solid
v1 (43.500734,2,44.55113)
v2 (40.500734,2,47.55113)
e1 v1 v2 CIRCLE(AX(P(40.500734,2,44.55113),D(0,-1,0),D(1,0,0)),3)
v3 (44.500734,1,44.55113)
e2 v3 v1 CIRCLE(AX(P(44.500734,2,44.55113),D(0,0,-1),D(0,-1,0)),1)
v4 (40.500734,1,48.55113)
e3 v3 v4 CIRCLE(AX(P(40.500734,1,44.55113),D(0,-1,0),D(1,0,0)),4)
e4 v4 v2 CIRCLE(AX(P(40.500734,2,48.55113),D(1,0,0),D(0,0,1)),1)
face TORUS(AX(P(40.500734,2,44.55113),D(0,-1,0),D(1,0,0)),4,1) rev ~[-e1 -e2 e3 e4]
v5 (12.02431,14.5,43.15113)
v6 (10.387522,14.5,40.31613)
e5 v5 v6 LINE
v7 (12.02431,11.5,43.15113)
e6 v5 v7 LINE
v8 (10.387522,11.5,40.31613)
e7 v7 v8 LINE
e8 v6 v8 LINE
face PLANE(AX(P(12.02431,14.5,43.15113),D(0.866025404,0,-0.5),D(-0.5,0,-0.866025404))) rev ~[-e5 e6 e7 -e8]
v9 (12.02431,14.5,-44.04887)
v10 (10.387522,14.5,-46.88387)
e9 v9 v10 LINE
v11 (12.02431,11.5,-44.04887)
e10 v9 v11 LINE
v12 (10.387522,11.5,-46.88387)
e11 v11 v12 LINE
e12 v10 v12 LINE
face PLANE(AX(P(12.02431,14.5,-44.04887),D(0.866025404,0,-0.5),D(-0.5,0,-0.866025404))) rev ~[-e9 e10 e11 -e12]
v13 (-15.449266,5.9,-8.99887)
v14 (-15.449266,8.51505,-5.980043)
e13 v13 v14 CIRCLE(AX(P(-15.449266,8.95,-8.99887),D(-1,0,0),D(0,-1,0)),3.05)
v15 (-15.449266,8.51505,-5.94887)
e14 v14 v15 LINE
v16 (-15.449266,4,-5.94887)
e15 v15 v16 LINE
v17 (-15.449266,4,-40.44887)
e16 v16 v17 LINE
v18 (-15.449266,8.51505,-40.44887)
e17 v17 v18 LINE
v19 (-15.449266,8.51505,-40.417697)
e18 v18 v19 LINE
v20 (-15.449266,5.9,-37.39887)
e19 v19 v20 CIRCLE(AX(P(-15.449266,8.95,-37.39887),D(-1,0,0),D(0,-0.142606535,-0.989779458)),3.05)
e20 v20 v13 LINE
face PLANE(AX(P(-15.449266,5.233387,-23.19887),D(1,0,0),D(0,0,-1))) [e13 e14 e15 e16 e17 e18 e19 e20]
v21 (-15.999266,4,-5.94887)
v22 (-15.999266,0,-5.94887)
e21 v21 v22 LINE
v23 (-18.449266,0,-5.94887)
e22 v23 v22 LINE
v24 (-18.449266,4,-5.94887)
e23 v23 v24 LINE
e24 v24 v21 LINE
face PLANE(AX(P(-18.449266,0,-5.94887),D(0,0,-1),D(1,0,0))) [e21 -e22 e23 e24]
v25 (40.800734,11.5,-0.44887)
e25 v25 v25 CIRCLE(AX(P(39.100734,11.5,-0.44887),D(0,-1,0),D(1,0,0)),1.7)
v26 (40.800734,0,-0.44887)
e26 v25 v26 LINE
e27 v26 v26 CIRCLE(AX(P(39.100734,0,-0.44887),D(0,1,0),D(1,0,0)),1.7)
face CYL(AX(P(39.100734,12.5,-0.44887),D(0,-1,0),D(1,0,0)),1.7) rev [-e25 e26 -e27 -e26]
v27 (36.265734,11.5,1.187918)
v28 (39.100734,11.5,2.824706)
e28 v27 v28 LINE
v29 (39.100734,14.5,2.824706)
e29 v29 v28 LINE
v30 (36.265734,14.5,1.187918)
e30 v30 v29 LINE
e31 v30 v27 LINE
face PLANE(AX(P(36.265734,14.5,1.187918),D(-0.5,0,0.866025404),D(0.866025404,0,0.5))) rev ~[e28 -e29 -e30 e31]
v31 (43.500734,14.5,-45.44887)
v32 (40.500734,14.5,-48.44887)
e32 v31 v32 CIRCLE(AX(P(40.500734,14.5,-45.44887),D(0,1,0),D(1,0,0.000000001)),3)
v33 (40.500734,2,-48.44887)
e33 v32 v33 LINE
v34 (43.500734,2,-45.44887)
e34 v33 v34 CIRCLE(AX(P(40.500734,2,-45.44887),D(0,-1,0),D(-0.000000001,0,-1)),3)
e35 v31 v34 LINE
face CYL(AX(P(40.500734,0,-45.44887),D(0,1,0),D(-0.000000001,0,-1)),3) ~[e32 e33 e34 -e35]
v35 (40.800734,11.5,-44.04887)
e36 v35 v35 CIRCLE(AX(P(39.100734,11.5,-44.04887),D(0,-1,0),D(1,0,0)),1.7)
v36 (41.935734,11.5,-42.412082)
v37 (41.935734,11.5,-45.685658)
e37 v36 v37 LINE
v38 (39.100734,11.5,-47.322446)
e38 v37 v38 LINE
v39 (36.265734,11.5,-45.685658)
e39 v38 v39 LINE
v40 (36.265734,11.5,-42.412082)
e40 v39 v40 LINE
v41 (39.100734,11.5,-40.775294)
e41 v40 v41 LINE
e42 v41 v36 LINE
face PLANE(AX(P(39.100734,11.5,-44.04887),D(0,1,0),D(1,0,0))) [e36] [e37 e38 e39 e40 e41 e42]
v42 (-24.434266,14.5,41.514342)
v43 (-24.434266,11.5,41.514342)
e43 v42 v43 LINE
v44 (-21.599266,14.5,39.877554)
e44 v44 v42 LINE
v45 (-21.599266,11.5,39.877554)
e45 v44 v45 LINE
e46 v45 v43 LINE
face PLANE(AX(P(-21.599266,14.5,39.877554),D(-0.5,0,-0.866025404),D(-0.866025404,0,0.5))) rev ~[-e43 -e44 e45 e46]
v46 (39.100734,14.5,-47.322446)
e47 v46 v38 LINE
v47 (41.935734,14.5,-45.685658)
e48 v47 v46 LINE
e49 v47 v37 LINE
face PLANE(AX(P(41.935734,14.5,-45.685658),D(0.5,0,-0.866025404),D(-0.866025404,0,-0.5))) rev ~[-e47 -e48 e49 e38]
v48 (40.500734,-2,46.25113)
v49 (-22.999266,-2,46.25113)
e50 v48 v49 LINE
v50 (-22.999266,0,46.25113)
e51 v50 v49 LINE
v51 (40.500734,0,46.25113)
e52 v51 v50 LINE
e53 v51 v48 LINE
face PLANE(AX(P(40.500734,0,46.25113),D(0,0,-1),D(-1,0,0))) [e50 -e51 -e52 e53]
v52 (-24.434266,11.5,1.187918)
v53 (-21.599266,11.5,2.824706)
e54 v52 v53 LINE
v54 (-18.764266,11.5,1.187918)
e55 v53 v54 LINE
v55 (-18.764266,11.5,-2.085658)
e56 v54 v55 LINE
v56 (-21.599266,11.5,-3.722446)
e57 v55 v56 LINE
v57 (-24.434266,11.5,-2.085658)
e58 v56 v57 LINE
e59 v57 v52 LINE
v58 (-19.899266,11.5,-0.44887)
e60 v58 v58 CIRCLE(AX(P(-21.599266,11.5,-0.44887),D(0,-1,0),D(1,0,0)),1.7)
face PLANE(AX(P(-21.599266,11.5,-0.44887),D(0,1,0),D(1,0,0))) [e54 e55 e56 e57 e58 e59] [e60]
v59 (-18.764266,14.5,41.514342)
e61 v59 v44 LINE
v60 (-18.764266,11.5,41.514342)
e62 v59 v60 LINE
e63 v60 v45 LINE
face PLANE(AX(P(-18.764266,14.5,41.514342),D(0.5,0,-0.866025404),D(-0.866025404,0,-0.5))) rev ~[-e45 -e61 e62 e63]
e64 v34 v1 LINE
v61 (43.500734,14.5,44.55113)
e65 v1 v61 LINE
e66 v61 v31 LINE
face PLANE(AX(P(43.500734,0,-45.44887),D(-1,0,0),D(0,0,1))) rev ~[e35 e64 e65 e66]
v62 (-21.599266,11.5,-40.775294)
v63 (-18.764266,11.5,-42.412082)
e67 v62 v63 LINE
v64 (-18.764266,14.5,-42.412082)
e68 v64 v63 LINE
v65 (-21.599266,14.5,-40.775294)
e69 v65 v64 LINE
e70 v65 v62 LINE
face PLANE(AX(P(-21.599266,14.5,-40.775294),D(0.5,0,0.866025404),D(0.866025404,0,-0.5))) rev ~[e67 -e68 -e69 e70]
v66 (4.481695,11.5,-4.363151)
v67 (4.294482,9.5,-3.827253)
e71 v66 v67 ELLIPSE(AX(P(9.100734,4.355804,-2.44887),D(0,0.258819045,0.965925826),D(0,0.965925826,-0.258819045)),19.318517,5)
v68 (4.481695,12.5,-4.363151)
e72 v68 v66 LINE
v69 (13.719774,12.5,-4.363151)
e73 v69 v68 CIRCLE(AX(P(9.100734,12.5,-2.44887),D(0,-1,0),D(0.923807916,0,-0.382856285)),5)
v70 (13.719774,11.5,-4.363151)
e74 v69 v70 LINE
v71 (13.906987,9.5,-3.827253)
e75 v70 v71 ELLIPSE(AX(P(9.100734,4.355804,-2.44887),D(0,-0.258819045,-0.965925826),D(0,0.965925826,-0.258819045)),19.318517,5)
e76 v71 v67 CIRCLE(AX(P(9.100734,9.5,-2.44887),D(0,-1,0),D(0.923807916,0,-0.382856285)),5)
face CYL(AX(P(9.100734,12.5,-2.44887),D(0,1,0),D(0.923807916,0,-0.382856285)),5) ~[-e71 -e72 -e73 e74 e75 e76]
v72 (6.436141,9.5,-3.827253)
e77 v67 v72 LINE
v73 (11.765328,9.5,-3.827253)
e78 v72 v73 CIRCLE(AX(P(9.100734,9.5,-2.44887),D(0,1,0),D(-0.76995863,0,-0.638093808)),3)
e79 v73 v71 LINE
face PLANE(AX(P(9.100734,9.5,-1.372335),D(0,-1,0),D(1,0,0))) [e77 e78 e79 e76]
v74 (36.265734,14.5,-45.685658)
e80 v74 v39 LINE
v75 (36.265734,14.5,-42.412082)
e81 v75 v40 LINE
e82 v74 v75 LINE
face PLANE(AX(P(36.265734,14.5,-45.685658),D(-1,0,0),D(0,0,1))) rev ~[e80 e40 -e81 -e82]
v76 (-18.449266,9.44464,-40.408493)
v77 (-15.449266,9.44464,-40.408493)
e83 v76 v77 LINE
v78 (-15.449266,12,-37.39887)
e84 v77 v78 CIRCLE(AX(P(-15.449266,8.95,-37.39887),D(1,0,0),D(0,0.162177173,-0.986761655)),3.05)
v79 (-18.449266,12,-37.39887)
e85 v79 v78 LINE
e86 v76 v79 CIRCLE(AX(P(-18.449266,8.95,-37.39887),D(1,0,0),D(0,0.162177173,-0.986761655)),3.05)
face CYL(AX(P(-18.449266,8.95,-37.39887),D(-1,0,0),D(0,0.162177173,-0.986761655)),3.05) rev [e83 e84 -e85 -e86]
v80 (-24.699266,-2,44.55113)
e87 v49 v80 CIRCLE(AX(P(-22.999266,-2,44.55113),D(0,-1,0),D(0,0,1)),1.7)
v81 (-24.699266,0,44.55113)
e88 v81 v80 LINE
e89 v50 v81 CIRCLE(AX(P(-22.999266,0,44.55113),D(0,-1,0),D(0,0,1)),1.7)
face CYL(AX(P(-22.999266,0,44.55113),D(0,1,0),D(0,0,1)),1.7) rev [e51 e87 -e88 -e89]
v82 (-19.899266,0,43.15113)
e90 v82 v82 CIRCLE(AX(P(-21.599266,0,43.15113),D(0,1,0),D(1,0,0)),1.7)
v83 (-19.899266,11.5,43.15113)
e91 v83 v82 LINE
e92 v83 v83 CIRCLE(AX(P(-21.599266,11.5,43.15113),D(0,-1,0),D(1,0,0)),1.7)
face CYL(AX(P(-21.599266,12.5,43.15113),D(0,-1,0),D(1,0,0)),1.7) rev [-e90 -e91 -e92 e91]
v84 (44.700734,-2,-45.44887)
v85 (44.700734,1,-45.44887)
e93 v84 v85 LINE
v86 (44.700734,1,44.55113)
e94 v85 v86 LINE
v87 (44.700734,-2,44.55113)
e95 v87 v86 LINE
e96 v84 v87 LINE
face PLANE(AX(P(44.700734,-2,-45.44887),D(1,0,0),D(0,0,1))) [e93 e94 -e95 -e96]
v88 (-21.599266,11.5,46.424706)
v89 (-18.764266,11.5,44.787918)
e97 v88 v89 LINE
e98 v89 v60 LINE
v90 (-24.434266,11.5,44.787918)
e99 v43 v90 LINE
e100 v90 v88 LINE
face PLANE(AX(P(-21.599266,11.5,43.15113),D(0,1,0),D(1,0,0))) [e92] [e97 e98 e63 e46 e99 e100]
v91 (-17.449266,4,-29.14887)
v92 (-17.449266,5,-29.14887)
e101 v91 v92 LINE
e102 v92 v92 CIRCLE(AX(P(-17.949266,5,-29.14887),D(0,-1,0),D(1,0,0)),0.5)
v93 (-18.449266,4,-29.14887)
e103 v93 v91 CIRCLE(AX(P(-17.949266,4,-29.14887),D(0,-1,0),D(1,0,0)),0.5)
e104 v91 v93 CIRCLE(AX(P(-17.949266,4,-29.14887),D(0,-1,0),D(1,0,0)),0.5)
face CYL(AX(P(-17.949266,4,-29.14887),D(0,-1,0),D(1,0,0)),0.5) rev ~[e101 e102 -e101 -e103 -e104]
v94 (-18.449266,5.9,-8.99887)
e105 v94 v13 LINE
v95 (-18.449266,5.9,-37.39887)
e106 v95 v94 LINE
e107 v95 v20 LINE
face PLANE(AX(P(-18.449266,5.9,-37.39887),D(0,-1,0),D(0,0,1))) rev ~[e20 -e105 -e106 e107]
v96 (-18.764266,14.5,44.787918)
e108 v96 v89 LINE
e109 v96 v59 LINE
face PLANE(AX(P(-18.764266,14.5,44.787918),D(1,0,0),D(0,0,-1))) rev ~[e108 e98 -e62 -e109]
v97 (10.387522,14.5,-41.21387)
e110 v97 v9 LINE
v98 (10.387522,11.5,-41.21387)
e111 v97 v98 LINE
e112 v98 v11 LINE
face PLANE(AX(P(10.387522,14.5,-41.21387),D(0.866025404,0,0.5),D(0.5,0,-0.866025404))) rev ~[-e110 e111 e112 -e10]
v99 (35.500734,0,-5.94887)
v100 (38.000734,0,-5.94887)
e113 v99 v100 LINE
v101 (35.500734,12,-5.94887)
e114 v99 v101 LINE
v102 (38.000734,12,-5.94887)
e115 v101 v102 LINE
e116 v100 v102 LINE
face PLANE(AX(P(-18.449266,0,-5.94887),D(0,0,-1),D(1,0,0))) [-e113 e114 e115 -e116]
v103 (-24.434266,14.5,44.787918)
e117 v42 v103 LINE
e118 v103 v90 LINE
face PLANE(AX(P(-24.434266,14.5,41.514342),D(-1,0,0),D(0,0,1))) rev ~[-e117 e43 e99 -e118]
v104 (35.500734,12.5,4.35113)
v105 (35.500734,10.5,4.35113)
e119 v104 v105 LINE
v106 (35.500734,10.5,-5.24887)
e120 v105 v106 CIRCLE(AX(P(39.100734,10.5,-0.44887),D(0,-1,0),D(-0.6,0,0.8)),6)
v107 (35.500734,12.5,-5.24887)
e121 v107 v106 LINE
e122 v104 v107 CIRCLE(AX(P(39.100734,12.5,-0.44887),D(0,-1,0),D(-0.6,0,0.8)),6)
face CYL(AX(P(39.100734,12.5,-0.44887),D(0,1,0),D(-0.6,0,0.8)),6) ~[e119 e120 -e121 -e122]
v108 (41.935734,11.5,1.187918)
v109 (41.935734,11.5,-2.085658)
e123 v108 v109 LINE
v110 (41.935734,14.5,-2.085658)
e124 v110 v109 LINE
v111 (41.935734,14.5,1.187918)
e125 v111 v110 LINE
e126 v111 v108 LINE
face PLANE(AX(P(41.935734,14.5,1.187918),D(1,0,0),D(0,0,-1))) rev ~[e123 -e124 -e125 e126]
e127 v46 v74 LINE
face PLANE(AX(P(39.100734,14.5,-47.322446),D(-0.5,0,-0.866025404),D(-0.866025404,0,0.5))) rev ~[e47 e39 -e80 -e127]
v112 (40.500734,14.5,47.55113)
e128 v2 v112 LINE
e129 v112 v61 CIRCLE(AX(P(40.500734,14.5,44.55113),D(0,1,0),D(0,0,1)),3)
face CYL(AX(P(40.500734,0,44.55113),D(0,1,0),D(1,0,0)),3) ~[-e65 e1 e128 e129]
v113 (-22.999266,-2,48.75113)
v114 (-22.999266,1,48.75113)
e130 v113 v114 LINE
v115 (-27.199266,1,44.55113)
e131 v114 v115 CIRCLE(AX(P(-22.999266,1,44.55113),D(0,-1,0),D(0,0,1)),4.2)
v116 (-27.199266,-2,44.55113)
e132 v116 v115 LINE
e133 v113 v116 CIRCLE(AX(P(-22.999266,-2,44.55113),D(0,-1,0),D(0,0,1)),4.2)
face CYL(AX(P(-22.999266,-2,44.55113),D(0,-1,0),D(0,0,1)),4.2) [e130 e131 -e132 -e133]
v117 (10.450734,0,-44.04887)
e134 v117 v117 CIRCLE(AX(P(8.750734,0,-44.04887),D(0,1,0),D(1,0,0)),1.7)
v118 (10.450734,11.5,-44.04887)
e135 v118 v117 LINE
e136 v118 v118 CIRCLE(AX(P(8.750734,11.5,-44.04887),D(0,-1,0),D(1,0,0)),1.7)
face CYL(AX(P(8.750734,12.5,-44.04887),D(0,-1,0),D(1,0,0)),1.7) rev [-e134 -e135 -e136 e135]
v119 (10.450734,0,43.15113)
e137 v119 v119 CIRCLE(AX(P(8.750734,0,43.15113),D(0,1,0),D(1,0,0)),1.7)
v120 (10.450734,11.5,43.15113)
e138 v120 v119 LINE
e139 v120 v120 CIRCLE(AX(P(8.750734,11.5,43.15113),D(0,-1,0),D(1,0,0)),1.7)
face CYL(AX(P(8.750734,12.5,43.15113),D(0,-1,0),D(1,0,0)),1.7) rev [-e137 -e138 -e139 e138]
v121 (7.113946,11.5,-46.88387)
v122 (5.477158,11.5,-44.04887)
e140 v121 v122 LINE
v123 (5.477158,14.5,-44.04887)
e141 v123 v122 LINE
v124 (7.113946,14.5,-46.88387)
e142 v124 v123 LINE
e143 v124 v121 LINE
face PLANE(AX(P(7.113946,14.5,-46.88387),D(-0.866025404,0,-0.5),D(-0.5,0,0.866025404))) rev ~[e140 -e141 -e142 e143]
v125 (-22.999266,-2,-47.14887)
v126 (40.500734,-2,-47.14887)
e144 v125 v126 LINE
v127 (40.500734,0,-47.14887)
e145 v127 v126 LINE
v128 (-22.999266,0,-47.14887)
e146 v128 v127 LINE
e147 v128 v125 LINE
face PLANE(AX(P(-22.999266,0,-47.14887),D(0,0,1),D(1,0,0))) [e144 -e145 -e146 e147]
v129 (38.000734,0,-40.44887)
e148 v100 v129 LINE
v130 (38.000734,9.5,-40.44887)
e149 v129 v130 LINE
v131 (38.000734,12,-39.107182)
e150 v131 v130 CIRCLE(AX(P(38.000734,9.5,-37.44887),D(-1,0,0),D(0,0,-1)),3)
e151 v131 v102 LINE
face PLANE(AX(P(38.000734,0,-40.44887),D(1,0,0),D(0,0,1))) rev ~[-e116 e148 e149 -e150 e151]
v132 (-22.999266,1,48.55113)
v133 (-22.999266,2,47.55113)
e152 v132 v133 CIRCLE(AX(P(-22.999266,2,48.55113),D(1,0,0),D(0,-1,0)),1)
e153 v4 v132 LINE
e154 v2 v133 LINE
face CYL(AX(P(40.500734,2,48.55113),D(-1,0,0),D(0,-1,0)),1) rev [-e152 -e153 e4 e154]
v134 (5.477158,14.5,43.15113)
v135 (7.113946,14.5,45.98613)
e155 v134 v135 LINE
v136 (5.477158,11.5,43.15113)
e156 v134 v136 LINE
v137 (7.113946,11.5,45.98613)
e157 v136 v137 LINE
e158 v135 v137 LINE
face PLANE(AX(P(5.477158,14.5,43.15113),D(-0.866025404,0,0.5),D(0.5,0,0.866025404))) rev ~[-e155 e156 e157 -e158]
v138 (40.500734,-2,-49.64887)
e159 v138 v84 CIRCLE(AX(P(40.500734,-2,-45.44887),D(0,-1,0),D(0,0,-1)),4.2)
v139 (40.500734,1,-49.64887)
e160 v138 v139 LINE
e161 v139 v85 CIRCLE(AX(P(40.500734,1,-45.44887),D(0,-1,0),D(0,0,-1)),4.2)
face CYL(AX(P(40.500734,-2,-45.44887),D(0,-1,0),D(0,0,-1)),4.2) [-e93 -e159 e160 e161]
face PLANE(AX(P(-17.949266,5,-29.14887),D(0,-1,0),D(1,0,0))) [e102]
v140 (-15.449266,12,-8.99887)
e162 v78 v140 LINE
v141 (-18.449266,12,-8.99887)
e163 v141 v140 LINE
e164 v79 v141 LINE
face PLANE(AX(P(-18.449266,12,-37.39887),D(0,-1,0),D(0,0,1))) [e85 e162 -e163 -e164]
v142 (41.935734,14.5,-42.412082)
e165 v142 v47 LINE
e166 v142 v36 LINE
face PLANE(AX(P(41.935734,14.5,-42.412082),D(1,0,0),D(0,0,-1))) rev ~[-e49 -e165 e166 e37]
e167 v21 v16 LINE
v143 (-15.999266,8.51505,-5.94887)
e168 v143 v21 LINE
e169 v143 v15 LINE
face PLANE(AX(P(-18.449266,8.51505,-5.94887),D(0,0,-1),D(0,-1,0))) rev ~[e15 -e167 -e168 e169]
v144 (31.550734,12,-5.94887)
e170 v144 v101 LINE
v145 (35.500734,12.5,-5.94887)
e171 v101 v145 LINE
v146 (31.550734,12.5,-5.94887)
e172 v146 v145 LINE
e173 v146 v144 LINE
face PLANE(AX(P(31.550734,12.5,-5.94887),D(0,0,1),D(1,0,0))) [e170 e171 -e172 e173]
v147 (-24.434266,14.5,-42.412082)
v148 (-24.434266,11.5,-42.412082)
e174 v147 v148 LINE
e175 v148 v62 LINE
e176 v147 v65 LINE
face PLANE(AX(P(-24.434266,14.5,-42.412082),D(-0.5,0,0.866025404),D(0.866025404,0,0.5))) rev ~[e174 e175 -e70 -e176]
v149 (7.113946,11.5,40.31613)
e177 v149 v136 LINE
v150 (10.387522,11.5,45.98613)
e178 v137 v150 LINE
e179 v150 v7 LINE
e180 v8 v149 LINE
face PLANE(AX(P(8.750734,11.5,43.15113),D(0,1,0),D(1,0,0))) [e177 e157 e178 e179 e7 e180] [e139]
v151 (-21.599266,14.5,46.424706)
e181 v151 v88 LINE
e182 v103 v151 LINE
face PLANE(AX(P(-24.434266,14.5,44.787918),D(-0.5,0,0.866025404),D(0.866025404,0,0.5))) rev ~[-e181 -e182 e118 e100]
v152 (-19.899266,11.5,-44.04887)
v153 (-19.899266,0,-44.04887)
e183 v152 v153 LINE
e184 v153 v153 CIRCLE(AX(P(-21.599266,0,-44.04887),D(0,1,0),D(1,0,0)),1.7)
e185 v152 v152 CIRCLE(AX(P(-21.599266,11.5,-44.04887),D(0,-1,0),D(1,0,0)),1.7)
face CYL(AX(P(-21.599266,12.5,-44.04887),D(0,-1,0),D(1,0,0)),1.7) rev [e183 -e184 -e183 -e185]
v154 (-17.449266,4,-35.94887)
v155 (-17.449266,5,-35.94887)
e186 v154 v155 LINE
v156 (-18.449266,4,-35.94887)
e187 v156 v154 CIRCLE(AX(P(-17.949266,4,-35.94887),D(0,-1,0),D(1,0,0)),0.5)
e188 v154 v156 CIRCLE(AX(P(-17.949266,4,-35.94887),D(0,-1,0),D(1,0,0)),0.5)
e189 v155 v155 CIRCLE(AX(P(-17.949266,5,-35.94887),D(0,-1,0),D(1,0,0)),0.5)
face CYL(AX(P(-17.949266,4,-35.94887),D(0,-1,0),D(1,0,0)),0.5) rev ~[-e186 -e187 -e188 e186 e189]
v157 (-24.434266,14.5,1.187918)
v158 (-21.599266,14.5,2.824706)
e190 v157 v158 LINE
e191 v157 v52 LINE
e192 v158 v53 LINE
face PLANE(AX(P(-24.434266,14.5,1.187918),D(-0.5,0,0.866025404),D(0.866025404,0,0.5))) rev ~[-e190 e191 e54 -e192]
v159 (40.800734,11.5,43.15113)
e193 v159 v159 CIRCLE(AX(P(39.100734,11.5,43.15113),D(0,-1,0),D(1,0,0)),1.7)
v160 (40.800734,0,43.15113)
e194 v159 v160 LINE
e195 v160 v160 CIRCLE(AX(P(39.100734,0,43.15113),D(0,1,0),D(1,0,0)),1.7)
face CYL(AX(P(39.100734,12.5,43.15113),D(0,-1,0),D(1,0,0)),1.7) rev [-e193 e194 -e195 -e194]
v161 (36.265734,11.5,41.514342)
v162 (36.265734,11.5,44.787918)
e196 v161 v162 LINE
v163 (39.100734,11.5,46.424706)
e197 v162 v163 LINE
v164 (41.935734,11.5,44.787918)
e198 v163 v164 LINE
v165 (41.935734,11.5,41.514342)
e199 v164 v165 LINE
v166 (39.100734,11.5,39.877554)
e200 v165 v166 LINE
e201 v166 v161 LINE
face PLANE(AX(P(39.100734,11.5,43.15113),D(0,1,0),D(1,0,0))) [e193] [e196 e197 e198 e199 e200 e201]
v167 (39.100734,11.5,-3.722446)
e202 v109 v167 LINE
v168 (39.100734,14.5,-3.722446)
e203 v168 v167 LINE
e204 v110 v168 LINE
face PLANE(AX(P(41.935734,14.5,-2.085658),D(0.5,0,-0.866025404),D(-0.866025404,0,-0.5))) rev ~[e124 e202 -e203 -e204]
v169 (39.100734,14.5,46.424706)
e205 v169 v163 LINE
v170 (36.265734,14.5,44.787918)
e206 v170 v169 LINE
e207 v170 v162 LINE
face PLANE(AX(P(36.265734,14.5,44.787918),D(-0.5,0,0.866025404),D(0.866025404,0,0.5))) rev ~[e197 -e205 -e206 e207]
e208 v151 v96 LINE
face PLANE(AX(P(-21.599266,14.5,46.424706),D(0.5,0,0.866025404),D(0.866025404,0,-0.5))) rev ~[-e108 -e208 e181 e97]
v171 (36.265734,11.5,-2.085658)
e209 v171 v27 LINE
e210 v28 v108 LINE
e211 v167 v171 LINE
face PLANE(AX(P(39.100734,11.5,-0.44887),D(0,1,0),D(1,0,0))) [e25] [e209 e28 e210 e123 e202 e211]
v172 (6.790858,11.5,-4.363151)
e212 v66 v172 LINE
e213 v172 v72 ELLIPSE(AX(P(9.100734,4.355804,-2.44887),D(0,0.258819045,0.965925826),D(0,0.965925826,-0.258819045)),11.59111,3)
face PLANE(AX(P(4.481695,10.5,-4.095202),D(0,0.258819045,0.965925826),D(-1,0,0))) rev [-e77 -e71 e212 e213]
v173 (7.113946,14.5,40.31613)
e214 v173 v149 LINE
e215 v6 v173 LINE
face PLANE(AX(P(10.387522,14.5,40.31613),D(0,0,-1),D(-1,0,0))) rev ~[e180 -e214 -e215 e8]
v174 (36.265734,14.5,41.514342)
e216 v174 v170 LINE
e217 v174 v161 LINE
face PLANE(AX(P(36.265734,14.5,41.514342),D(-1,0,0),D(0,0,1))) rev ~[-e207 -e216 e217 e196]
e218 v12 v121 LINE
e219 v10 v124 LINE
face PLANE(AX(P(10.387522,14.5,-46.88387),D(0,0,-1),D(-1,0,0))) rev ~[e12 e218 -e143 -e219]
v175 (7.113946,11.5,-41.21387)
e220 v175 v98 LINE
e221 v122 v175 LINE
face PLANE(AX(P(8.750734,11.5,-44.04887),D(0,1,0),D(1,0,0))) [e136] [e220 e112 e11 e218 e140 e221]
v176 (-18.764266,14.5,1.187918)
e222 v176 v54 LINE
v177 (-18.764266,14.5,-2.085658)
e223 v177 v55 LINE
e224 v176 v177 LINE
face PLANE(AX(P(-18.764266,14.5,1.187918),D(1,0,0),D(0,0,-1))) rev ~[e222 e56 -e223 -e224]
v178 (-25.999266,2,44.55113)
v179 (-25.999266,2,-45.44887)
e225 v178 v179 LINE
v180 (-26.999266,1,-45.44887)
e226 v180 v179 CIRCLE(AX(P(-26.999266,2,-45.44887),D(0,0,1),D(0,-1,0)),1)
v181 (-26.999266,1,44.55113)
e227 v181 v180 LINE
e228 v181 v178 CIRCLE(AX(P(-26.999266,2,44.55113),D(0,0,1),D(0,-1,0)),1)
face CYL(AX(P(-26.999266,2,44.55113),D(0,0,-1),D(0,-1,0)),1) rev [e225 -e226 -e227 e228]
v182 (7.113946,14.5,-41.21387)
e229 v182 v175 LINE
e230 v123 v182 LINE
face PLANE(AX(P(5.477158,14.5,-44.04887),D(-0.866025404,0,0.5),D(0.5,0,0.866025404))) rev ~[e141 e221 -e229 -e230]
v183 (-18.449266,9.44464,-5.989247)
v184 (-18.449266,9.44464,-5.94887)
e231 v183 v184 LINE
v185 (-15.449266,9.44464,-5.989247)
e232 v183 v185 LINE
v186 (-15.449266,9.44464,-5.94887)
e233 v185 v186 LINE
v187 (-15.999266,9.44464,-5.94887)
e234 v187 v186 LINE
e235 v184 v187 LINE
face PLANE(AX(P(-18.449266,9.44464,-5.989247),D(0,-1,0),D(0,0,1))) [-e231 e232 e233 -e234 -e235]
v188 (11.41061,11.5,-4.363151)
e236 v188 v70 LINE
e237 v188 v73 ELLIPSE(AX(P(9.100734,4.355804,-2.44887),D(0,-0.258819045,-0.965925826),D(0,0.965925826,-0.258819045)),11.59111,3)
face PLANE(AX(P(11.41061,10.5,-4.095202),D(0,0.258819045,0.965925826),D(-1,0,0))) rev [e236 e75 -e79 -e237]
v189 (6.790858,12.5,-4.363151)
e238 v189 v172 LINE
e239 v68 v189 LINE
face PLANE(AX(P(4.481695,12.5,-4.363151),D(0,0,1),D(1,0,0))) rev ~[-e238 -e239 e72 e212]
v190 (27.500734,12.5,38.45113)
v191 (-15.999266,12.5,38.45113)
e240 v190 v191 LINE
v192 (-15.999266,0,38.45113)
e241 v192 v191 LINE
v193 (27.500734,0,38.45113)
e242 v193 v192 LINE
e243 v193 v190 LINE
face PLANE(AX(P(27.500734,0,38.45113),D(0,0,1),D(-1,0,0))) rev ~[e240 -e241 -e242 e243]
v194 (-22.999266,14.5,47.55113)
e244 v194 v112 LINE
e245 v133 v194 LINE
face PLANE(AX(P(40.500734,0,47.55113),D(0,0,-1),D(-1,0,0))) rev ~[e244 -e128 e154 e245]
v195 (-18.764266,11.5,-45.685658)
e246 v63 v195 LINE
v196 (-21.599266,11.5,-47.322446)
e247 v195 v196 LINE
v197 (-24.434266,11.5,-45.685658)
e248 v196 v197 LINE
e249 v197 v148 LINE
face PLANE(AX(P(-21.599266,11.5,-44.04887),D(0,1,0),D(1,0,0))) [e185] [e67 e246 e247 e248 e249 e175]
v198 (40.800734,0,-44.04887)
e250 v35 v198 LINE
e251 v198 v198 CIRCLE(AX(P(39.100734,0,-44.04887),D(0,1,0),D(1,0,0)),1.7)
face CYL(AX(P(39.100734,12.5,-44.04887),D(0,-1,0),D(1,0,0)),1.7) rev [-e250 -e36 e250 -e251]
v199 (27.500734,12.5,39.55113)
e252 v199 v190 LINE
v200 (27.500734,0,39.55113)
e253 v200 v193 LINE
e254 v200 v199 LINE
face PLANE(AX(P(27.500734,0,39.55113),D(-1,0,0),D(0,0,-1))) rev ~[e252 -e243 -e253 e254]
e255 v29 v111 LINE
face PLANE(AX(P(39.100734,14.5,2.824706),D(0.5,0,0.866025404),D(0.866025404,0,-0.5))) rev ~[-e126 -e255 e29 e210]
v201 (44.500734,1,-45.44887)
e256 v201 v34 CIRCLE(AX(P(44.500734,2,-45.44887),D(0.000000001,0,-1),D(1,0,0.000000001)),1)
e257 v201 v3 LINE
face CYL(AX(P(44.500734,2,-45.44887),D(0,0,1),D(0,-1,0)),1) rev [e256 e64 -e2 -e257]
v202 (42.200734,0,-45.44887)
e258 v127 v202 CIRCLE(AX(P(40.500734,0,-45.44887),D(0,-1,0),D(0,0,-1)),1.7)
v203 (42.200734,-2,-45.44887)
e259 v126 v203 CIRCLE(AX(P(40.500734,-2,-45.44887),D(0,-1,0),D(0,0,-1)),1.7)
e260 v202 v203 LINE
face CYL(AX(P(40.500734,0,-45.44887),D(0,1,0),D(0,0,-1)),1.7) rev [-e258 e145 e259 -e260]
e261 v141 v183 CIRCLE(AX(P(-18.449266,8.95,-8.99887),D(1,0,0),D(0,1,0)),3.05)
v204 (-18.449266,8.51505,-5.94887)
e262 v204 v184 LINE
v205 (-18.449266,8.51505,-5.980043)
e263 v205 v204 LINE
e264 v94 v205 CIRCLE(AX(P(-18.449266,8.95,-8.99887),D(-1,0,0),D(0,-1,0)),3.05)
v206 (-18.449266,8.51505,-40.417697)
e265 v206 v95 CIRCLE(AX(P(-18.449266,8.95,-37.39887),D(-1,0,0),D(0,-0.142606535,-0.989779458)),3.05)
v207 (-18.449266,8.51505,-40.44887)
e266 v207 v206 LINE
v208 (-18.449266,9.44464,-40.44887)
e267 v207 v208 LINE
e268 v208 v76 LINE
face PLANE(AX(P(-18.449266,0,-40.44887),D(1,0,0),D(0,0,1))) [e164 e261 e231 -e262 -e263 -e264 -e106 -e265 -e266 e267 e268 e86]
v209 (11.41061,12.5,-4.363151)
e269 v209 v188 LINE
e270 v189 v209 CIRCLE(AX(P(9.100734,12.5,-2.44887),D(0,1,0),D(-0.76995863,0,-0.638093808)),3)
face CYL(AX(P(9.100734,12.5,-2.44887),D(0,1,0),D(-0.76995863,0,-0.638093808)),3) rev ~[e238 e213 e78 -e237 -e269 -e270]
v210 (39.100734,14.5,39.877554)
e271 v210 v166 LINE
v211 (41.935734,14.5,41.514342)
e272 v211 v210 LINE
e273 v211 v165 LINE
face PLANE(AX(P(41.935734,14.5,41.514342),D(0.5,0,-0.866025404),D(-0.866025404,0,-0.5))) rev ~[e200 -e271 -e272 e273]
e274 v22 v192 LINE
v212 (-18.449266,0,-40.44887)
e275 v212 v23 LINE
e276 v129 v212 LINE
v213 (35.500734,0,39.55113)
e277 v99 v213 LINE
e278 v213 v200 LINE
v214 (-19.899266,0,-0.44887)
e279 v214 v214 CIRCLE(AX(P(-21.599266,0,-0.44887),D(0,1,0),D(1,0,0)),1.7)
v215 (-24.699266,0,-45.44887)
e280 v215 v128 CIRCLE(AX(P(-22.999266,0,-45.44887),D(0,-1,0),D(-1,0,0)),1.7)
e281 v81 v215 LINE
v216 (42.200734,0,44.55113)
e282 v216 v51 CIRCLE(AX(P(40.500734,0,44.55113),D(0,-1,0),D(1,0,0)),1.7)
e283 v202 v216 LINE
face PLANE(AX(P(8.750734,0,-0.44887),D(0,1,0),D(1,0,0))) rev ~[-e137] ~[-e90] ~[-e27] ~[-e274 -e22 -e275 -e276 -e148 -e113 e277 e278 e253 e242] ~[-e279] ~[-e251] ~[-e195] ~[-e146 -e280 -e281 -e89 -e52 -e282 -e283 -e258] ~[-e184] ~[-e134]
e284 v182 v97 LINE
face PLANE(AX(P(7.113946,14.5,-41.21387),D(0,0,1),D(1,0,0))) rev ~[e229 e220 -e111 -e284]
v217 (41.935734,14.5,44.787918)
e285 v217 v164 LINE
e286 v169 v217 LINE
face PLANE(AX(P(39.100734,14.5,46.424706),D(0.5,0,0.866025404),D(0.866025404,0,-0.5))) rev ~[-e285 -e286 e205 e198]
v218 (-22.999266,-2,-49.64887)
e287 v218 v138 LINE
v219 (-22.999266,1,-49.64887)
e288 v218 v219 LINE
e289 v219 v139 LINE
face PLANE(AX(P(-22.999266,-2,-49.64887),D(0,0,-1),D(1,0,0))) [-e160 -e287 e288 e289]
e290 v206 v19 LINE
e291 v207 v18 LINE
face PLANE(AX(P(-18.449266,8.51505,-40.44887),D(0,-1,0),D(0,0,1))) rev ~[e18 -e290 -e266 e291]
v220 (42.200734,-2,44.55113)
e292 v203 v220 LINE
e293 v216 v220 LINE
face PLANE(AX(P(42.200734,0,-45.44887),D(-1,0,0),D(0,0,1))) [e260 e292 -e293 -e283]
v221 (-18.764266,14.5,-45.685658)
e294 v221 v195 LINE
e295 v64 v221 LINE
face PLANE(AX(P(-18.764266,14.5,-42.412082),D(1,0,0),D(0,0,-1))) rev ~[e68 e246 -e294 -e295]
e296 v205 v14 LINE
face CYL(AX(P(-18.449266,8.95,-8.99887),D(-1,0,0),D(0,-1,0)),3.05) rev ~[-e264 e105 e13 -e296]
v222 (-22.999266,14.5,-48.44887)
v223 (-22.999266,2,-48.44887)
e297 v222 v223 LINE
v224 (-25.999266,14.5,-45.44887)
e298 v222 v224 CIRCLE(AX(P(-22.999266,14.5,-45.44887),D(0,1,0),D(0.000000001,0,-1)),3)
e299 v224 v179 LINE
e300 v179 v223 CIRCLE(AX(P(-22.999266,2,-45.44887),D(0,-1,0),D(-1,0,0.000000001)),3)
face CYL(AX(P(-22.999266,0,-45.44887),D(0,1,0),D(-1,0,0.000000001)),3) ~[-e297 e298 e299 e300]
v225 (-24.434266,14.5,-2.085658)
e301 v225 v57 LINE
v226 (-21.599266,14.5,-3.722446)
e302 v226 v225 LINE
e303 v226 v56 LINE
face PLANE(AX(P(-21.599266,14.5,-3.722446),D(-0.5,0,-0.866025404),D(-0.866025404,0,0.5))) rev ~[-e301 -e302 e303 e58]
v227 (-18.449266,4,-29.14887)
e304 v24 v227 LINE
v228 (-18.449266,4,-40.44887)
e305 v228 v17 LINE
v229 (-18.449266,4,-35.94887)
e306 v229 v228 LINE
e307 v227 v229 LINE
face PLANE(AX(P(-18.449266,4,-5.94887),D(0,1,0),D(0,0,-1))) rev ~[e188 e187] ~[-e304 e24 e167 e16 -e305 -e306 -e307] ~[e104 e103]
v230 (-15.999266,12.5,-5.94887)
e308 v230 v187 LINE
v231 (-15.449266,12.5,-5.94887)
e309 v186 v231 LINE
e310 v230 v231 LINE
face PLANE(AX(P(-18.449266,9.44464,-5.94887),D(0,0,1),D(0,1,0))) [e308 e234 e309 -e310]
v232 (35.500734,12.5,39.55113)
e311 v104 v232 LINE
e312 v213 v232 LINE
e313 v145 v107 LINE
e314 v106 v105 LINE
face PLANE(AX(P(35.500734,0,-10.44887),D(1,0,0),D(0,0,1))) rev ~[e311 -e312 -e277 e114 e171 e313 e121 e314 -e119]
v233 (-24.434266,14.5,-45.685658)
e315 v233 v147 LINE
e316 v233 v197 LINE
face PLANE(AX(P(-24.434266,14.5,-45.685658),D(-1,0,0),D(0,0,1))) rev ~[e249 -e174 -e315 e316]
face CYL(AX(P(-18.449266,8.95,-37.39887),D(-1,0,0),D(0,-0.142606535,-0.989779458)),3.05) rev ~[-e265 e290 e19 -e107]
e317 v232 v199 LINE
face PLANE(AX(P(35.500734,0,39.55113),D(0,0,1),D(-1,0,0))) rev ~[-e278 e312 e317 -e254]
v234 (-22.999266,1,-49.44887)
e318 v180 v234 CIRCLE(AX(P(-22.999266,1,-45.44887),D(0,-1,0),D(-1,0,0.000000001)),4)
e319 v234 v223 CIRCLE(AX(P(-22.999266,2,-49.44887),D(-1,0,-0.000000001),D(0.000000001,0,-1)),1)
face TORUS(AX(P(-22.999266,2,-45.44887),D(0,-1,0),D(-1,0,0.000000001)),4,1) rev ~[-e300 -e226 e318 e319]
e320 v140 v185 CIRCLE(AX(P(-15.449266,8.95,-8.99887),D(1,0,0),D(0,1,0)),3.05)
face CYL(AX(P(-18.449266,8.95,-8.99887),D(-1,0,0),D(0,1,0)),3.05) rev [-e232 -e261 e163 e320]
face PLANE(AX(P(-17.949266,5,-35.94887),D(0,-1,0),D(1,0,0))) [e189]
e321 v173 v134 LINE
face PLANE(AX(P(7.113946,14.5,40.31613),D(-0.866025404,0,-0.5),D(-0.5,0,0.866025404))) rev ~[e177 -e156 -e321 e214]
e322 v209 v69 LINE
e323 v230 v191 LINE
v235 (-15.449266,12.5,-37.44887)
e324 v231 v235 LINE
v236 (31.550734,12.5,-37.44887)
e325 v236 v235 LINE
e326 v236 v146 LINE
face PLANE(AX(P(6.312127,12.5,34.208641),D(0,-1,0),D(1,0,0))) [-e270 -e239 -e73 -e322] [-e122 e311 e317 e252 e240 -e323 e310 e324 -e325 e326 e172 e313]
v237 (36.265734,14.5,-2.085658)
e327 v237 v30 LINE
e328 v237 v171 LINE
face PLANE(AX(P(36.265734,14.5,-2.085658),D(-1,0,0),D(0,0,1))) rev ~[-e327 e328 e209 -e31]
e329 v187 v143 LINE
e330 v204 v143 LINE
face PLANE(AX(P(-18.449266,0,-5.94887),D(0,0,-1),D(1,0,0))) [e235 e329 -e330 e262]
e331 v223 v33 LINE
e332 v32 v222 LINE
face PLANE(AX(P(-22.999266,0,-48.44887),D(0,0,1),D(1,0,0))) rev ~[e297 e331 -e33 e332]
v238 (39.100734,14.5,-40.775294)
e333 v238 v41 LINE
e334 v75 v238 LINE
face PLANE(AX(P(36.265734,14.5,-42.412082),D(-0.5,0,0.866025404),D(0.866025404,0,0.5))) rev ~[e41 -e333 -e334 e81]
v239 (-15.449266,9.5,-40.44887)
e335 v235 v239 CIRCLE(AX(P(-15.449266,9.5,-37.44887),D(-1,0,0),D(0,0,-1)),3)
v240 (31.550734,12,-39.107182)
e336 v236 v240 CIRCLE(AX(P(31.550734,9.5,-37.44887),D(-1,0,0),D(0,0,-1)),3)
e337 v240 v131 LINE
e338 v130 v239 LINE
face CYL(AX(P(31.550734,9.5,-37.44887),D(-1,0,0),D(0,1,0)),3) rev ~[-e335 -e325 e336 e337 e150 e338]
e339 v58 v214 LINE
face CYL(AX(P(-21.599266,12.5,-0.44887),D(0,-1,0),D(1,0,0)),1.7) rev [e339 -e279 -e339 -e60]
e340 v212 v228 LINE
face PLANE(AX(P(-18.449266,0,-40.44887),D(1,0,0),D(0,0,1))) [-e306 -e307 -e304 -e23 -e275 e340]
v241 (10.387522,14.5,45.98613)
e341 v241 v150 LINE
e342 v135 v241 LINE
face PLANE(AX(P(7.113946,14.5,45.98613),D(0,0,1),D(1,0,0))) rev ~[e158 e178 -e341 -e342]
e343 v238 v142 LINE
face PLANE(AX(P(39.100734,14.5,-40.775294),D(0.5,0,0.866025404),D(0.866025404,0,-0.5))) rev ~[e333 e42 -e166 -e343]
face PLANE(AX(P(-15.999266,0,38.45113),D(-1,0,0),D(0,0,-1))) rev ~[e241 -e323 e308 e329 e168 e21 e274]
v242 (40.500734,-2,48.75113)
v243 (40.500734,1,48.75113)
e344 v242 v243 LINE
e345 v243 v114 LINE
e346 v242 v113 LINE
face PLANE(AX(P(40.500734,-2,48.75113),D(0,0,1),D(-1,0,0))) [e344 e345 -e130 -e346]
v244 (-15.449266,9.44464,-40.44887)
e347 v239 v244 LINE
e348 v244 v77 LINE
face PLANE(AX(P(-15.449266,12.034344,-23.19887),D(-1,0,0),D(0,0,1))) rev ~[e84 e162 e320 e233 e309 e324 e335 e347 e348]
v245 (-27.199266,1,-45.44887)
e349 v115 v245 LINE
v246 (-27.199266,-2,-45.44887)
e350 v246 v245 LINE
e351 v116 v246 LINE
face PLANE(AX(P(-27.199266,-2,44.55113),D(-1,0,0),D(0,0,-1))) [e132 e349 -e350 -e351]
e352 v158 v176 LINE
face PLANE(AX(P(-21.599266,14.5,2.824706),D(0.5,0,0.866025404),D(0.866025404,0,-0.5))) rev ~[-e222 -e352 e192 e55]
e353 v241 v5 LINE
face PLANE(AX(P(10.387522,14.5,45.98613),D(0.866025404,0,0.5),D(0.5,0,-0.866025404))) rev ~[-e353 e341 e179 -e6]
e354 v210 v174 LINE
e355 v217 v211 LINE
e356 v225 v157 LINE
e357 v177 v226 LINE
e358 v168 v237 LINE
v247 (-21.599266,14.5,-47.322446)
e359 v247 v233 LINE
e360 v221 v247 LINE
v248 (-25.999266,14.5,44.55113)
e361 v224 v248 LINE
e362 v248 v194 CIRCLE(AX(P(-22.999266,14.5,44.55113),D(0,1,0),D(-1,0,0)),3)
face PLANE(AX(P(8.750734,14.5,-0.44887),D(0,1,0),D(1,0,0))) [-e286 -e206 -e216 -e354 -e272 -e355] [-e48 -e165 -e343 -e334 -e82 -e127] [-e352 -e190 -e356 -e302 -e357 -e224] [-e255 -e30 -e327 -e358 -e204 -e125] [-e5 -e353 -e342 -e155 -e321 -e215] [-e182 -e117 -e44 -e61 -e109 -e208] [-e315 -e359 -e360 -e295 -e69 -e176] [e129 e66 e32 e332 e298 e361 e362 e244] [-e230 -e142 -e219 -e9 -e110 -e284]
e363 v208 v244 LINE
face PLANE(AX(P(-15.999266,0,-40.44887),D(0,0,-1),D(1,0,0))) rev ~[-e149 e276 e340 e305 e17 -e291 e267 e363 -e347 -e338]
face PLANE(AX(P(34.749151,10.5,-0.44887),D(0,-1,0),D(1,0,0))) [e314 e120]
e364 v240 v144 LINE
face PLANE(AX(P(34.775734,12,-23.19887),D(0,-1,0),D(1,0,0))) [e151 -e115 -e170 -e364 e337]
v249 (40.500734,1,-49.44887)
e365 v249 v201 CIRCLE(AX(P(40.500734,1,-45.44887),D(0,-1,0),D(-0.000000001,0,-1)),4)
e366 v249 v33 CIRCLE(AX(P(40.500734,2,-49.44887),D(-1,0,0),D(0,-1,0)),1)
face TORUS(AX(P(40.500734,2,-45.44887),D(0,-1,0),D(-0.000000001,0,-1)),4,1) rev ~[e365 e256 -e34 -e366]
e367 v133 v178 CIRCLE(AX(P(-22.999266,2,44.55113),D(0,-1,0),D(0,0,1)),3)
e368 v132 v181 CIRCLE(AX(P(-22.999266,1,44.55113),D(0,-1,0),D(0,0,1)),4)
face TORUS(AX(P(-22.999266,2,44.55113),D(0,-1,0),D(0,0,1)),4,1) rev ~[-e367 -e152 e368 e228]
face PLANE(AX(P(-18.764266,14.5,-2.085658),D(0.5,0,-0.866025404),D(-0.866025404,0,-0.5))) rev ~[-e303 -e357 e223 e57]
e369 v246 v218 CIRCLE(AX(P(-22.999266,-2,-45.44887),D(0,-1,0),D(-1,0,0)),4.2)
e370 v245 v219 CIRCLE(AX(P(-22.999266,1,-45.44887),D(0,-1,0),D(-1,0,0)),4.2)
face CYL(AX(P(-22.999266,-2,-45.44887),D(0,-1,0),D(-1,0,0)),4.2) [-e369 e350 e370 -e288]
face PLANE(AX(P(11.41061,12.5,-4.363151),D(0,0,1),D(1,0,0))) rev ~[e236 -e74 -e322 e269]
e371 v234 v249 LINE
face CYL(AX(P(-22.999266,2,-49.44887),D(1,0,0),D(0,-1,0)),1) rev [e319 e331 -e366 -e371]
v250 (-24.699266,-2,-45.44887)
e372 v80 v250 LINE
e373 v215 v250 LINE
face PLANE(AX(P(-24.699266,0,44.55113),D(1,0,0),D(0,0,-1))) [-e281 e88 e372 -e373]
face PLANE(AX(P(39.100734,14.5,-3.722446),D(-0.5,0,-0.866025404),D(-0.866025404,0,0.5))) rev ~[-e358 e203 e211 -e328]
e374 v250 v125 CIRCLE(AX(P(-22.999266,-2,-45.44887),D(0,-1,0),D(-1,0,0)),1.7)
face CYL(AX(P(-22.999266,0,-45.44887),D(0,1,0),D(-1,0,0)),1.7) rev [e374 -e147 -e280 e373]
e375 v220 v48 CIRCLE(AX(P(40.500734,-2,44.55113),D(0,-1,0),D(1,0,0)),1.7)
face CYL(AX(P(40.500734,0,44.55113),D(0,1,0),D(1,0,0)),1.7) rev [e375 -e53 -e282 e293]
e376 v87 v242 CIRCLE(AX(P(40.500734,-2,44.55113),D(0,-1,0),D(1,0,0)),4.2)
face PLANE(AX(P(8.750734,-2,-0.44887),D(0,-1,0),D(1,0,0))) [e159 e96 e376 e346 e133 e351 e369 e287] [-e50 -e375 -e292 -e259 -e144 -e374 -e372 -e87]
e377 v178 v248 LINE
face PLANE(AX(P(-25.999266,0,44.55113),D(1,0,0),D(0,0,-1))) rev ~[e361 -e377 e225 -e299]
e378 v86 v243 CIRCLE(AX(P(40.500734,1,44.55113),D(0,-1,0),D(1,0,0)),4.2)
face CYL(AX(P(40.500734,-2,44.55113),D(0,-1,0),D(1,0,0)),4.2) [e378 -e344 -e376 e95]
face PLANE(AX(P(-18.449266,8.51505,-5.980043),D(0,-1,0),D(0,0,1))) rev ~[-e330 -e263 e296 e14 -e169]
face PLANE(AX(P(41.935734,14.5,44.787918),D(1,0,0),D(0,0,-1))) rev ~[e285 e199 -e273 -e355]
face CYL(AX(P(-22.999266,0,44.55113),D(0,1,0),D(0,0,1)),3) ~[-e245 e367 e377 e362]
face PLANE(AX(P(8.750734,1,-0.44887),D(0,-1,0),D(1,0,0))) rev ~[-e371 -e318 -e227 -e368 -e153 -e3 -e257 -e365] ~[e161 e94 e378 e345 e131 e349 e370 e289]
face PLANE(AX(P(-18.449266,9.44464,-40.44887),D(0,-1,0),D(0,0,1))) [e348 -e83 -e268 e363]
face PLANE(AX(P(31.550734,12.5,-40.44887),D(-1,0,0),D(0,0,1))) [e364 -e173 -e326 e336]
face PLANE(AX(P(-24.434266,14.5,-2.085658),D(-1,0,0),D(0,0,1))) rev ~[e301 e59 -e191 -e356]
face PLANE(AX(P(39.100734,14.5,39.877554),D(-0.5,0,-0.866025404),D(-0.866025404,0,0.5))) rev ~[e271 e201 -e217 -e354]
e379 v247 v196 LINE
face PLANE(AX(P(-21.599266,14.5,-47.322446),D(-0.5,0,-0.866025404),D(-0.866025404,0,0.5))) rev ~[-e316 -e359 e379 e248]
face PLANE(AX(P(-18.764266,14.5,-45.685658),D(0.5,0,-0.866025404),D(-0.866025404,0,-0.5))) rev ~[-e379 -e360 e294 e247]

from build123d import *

# Parameters (mm, degrees)
SKETCH_1_R             = 1.7
EXTRUDE_1_DEPTH        = 12.5
SKETCH_2_R             = 1.7
EXTRUDE_2_DEPTH        = 2
EXTRUDE_START          = -2.5
EXTRUDE_5_DEPTH        = 2
EXTRUDE_1_2_DEPTH      = 2
EXTRUDE_3_DEPTH        = 3
FILLET_4_R             = 1
CUT_EXTRUDE_1_DEPTH    = 12.5
SKETCH_13_W            = 54.4
SKETCH_13_H            = 34.5
CUT_EXTRUDE_2_DEPTH    = 12.5
CUT_EXTRUDE_3_DEPTH    = 12.5
CUT_EXTRUDE_5_DEPTH    = 3
EXTRUDE_11_DEPTH       = 3
SKETCH_22_R            = 0.5
CUT_EXTRUDE_7_DEPTH    = 1
SKETCH_23_W            = 6.45
SKETCH_23_H            = 34.5
EXTRUDE_12_DEPTH       = 0.5
EXTRUDE_13_DEPTH       = 3
CHAMFER_2_SIZE         = 2
CHAMFER_2_SIZE2        = 0.535898385
CHAMFER_2_PART_2_SIZE  = 2
CHAMFER_2_PART_2_SIZE2 = 0.535898385
FILLET_7_R             = 3


with BuildPart() as part:
    # Эскиз1 → Extrude 1 (new body)
    with BuildSketch(Plane(origin=(0, 0, 0), x_dir=(1, 0, 0), z_dir=(0, 1, 0))):
        with BuildLine():
            ThreePointArc((-25.999265675, -44.551130115), (-25.120586019, -46.672450458), (-22.999265675, -47.551130115))
            Line((-22.999265675, -47.551130115), (40.500734325, -47.551130115))
            ThreePointArc((40.500734325, -47.551130115), (42.622054669, -46.672450458), (43.500734325, -44.551130115))
            Line((43.500734325, -44.551130115), (43.500734325, 45.448869885))
            ThreePointArc((43.500734325, 45.448869885), (42.622054669, 47.570190229), (40.500734325, 48.448869885))
            Line((40.500734325, 48.448869885), (-22.999265675, 48.448869885))
            ThreePointArc((-22.999265675, 48.448869885), (-25.120586019, 47.570190229), (-25.999265675, 45.448869885))
            Line((-25.999265675, 45.448869885), (-25.999265675, -44.551130115))
        make_face()
        with Locations((-21.599265675, -43.151130115)):
            Circle(SKETCH_1_R, mode=Mode.SUBTRACT)
        with Locations((8.750734325, -43.151130115)):
            Circle(SKETCH_1_R, mode=Mode.SUBTRACT)
        with Locations((-21.599265675, 0.448869885)):
            Circle(SKETCH_1_R, mode=Mode.SUBTRACT)
        with Locations((39.100734325, -43.151130115)):
            Circle(SKETCH_1_R, mode=Mode.SUBTRACT)
        with Locations((39.100734325, 0.448869885)):
            Circle(SKETCH_1_R, mode=Mode.SUBTRACT)
        with Locations((-21.599265675, 44.048869885)):
            Circle(SKETCH_1_R, mode=Mode.SUBTRACT)
        with Locations((8.750734325, 44.048869885)):
            Circle(SKETCH_1_R, mode=Mode.SUBTRACT)
        Polygon((-15.999265675, -31.551130115), (-15.999265675, 40.448869885), (38.000734325, 40.448869885), (38.000734325, 10.448869885), (35.500734325, 10.448869885), (35.500734325, -29.051130115), (35.500734325, -30.051130115), (35.500734325, -39.551130115), (27.500734325, -39.551130115), (27.500734325, -30.051130115), (21.000734325, -30.051130115), (21.000734325, -31.551130115), align=None, mode=Mode.SUBTRACT)
        with Locations((39.100734325, 44.048869885)):
            Circle(SKETCH_1_R, mode=Mode.SUBTRACT)
    extrude(amount=EXTRUDE_1_DEPTH)

    # Эскиз2 → Бобышка-Вытянуть2 (add)
    with BuildSketch(Plane(origin=(0, 12.5, 0), x_dir=(1, 0, 0), z_dir=(0, 1, 0))):
        with BuildLine():
            Line((-22.999265675, -47.551130115), (40.500734325, -47.551130115))
            ThreePointArc((40.500734325, -47.551130115), (42.622054669, -46.672450458), (43.500734325, -44.551130115))
            Line((43.500734325, -44.551130115), (43.500734325, 45.448869885))
            ThreePointArc((43.500734325, 45.448869885), (42.622054669, 47.570190229), (40.500734325, 48.448869885))
            Line((40.500734325, 48.448869885), (-22.999265675, 48.448869885))
            ThreePointArc((-22.999265675, 48.448869885), (-25.120586019, 47.570190229), (-25.999265675, 45.448869885))
            Line((-25.999265675, 45.448869885), (-25.999265675, -44.551130115))
            ThreePointArc((-25.999265675, -44.551130115), (-25.120586019, -46.672450458), (-22.999265675, -47.551130115))
        make_face()
        with Locations((39.100734325, -43.151130115)):
            Circle(SKETCH_2_R, mode=Mode.SUBTRACT)
        with Locations((8.750734325, -43.151130115)):
            Circle(SKETCH_2_R, mode=Mode.SUBTRACT)
        with Locations((-21.599265675, -43.151130115)):
            Circle(SKETCH_2_R, mode=Mode.SUBTRACT)
        with Locations((-21.599265675, 0.448869885)):
            Circle(SKETCH_2_R, mode=Mode.SUBTRACT)
        with Locations((39.100734325, 0.448869885)):
            Circle(SKETCH_2_R, mode=Mode.SUBTRACT)
        with Locations((-21.599265675, 44.048869885)):
            Circle(SKETCH_2_R, mode=Mode.SUBTRACT)
        with Locations((8.750734325, 44.048869885)):
            Circle(SKETCH_2_R, mode=Mode.SUBTRACT)
        with Locations((39.100734325, 44.048869885)):
            Circle(SKETCH_2_R, mode=Mode.SUBTRACT)
    extrude(amount=EXTRUDE_2_DEPTH)

    # Эскиз8 → Бобышка-Вытянуть5 (add)
    with BuildSketch(Plane.XZ.offset(-10).offset(EXTRUDE_START)):
        with BuildLine():
            Line((35.500734325, -5.248869885), (35.500734325, 4.351130115))
            ThreePointArc((35.500734325, 4.351130115), (33.100734325, -0.448869885), (35.500734325, -5.248869885))
        make_face()
    extrude(amount=EXTRUDE_5_DEPTH)

    # Эскиз9 → Extrude 1 2 (add)
    with BuildSketch(Plane.XZ):
        with BuildLine():
            Line((-25.999265675, 44.551130115), (-25.999265675, -45.448869885))
            ThreePointArc((-25.999265675, -45.448869885), (-25.120586019, -47.570190229), (-22.999265675, -48.448869885))
            Line((-22.999265675, -48.448869885), (40.500734325, -48.448869885))
            ThreePointArc((40.500734325, -48.448869885), (42.622054669, -47.570190229), (43.500734325, -45.448869885))
            Line((43.500734325, -45.448869885), (43.500734325, 44.551130115))
            ThreePointArc((43.500734325, 44.551130115), (42.622054669, 46.672450458), (40.500734325, 47.551130115))
            Line((40.500734325, 47.551130115), (-22.999265675, 47.551130115))
            ThreePointArc((-22.999265675, 47.551130115), (-25.120586019, 46.672450458), (-25.999265675, 44.551130115))
        make_face()
        with BuildLine():
            Line((-24.699265675, 44.551130115), (-24.699265675, -45.448869885))
            ThreePointArc((-24.699265675, -45.448869885), (-24.201347203, -46.650951413), (-22.999265675, -47.148869885))
            Line((-22.999265675, -47.148869885), (40.500734325, -47.148869885))
            ThreePointArc((40.500734325, -47.148869885), (41.702815853, -46.650951413), (42.200734325, -45.448869885))
            Line((42.200734325, -45.448869885), (42.200734325, 44.551130115))
            ThreePointArc((42.200734325, 44.551130115), (41.702815853, 45.753211643), (40.500734325, 46.251130115))
            Line((40.500734325, 46.251130115), (-22.999265675, 46.251130115))
            ThreePointArc((-22.999265675, 46.251130115), (-24.201347203, 45.753211643), (-24.699265675, 44.551130115))
        make_face(mode=Mode.SUBTRACT)
    extrude(amount=EXTRUDE_1_2_DEPTH)

    # Эскиз11 → Вытянуть-Тонкостенный3 (add)
    with BuildSketch(Plane.XZ.offset(2)):
        with BuildLine():
            Line((40.500734325, 48.751130115), (-22.999265675, 48.751130115))
            ThreePointArc((-22.999265675, 48.751130115), (-25.969114156, 47.520978596), (-27.199265675, 44.551130115))
            Line((-27.199265675, 44.551130115), (-27.199265675, -45.448869885))
            ThreePointArc((-27.199265675, -45.448869885), (-25.969114156, -48.418718366), (-22.999265675, -49.648869885))
            Line((-22.999265675, -49.648869885), (40.500734325, -49.648869885))
            ThreePointArc((40.500734325, -49.648869885), (43.470582806, -48.418718366), (44.700734325, -45.448869885))
            Line((44.700734325, -45.448869885), (44.700734325, 44.551130115))
            ThreePointArc((44.700734325, 44.551130115), (43.470582806, 47.520978596), (40.500734325, 48.751130115))
        make_face()
        with BuildLine():
            Line((40.500734325, 46.251130115), (-22.999265675, 46.251130115))
            ThreePointArc((-22.999265675, 46.251130115), (-24.201347203, 45.753211643), (-24.699265675, 44.551130115))
            Line((-24.699265675, 44.551130115), (-24.699265675, -45.448869885))
            ThreePointArc((-24.699265675, -45.448869885), (-24.201347203, -46.650951413), (-22.999265675, -47.148869885))
            Line((-22.999265675, -47.148869885), (40.500734325, -47.148869885))
            ThreePointArc((40.500734325, -47.148869885), (41.702815853, -46.650951413), (42.200734325, -45.448869885))
            Line((42.200734325, -45.448869885), (42.200734325, 44.551130115))
            ThreePointArc((42.200734325, 44.551130115), (41.702815853, 45.753211643), (40.500734325, 46.251130115))
        make_face(mode=Mode.SUBTRACT)
    extrude(amount=-EXTRUDE_3_DEPTH)

    # Скругление4
    fillet_4_edges = [part.edges().sort_by_distance(p)[0] for p in [
        (-25.999265675, 1, -0.448869885),
        (-25.120586019, 1, 46.672450458),
        (43.500734325, 1, -0.448869885),
        (8.750734325, 1, -48.448869885),
        (-25.120586019, 1, -47.570190229),
        (42.622054669, 1, -47.570190229),
        (42.622054669, 1, 46.672450458),
        (8.750734325, 1, 47.551130115),
    ]]
    fillet(fillet_4_edges, radius=FILLET_4_R)

    # Эскиз12 → Вырез-Вытянуть1 (cut)
    with BuildSketch(Plane.XZ):
        Polygon((-15.999265675, 31.551130115), (19.94284743, 28.85982003), (27.500734325, 28.85982003), (27.500734325, 38.451130115), (-15.999265675, 38.451130115), align=None)
    extrude(amount=-CUT_EXTRUDE_1_DEPTH, mode=Mode.SUBTRACT)

    # Эскиз13 → Вырез-Вытянуть2 (cut)
    with BuildSketch(Plane.XZ):
        with Locations((8.750734325, -23.198869885)):
            Rectangle(SKETCH_13_W, SKETCH_13_H)
    extrude(amount=-CUT_EXTRUDE_2_DEPTH, mode=Mode.SUBTRACT)

    # Эскиз14 → Вырез-Вытянуть3 (cut)
    with BuildSketch(Plane.XZ):
        Polygon((35.950734325, -40.448869885), (38.000734325, -40.448869885), (38.000734325, -5.948869885), (35.500734325, -5.948869885), align=None)
    extrude(amount=-CUT_EXTRUDE_3_DEPTH, mode=Mode.SUBTRACT)

    # Эскиз19 → Вырез-Вытянуть5 (cut)
    with BuildSketch(Plane(origin=(0, 14.5, 0), x_dir=(1, 0, 0), z_dir=(0, 1, 0))):
        Polygon((-21.599265675, 40.775293859), (-18.764265675, 42.412081872), (-18.764265675, 45.685657899), (-21.599265675, 47.322445912), (-24.434265675, 45.685657899), (-24.434265675, 42.412081872), align=None)
        Polygon((-21.599265675, -2.824706141), (-18.764265675, -1.187918128), (-18.764265675, 2.085657899), (-21.599265675, 3.722445912), (-24.434265675, 2.085657899), (-24.434265675, -1.187918128), align=None)
        Polygon((5.477158299, 44.048869885), (7.113946312, 41.213869885), (10.387522338, 41.213869885), (12.024310351, 44.048869885), (10.387522338, 46.883869885), (7.113946312, 46.883869885), align=None)
        Polygon((39.100734325, 40.775293859), (41.935734325, 42.412081872), (41.935734325, 45.685657899), (39.100734325, 47.322445912), (36.265734325, 45.685657899), (36.265734325, 42.412081872), align=None)
        Polygon((39.100734325, -2.824706141), (41.935734325, -1.187918128), (41.935734325, 2.085657899), (39.100734325, 3.722445912), (36.265734325, 2.085657899), (36.265734325, -1.187918128), align=None)
        Polygon((-21.599265675, -39.877554088), (-24.434265675, -41.514342101), (-24.434265675, -44.787918128), (-21.599265675, -46.424706141), (-18.764265675, -44.787918128), (-18.764265675, -41.514342101), align=None)
        Polygon((5.477158299, -43.151130115), (7.113946312, -45.986130115), (10.387522338, -45.986130115), (12.024310351, -43.151130115), (10.387522338, -40.316130115), (7.113946312, -40.316130115), align=None)
        Polygon((39.100734325, -39.877554088), (36.265734325, -41.514342101), (36.265734325, -44.787918128), (39.100734325, -46.424706141), (41.935734325, -44.787918128), (41.935734325, -41.514342101), align=None)
    extrude(amount=-CUT_EXTRUDE_5_DEPTH, mode=Mode.SUBTRACT)

    # Эскиз15 → Бобышка-Вытянуть11 (add)
    with BuildSketch(Plane(origin=(-18.449265675, 0, 0), x_dir=(0, 0, -1), z_dir=(1, 0, 0))):
        with BuildLine():
            Line((37.398869885, 5.9), (8.998869885, 5.9))
            ThreePointArc((8.998869885, 5.9), (7.001884318, 6.644669515), (5.980042537, 8.515050069))
            Line((5.980042537, 8.515050069), (5.948869885, 8.515050069))
            Line((5.948869885, 8.515050069), (5.948869885, 4))
            Line((5.948869885, 4), (40.448869885, 4))
            Line((40.448869885, 4), (40.448869885, 8.515050069))
            Line((40.448869885, 8.515050069), (40.417697234, 8.515050069))
            ThreePointArc((40.417697234, 8.515050069), (39.395855453, 6.644669515), (37.398869885, 5.9))
        make_face()
        with BuildLine():
            Line((5.948869885, 12.5), (40.448869885, 12.5))
            Line((40.448869885, 12.5), (40.448869885, 9.444640379))
            Line((40.448869885, 9.444640379), (40.408492934, 9.444640379))
            ThreePointArc((40.408492934, 9.444640379), (39.372932555, 11.274989587), (37.398869885, 12))
            Line((37.398869885, 12), (8.998869885, 12))
            ThreePointArc((8.998869885, 12), (7.024807216, 11.274989587), (5.989246837, 9.444640379))
            Line((5.989246837, 9.444640379), (5.948869885, 9.444640379))
            Line((5.948869885, 9.444640379), (5.948869885, 12.5))
        make_face()
    extrude(amount=EXTRUDE_11_DEPTH)

    # Эскиз22 → Вырез-Вытянуть7 (cut)
    with BuildSketch(Plane.XZ.offset(-4)):
        with Locations((-17.949265675, -35.948869885)):
            Circle(SKETCH_22_R)
        with Locations((-17.949265675, -29.148869885)):
            Circle(SKETCH_22_R)
    extrude(amount=-CUT_EXTRUDE_7_DEPTH, mode=Mode.SUBTRACT)

    # Эскиз23 → Бобышка-Вытянуть12 (add)
    with BuildSketch(Plane.XZ.offset(-12.5)):
        with Locations((34.775734325, -23.198869885)):
            Rectangle(SKETCH_23_W, SKETCH_23_H)
    extrude(amount=EXTRUDE_12_DEPTH)

    # Эскиз25 → Бобышка-Вытянуть13 (add)
    with BuildSketch(Plane.XZ.offset(-12.5)):
        with BuildLine():
            Line((4.481694746, -4.363151308), (6.790858434, -4.363151308))
            ThreePointArc((6.790858434, -4.363151308), (9.100734325, 0.551130115), (11.410610217, -4.363151308))
            Line((11.410610217, -4.363151308), (13.719773904, -4.363151308))
            ThreePointArc((13.719773904, -4.363151308), (9.100734325, 2.551130115), (4.481694746, -4.363151308))
        make_face()
    extrude(amount=EXTRUDE_13_DEPTH)

    # Фаска2
    chamfer_2_edges = [part.edges().sort_by_distance(p)[0] for p in [
        (12.56519206, 9.5, -4.363151308),
    ]]
    chamfer_2_side = [part.faces().sort_by_distance(p)[0] for p in [
        (12.56519206, 11, -4.363151308),
    ]]
    chamfer(chamfer_2_edges, length=CHAMFER_2_SIZE, length2=CHAMFER_2_SIZE2, reference=chamfer_2_side[0])

    # Фаска2 part 2
    chamfer_2_part_2_edges = [part.edges().sort_by_distance(p)[0] for p in [
        (5.63627659, 9.5, -4.363151308),
    ]]
    chamfer_2_part_2_side = [part.faces().sort_by_distance(p)[0] for p in [
        (5.63627659, 11, -4.363151308),
    ]]
    chamfer(chamfer_2_part_2_edges, length=CHAMFER_2_PART_2_SIZE, length2=CHAMFER_2_PART_2_SIZE2, reference=chamfer_2_part_2_side[0])

    # Скругление7
    fillet_7_edges = [part.edges().sort_by_distance(p)[0] for p in [
        (8.050734325, 12.5, -40.448869885),
    ]]
    fillet(fillet_7_edges, radius=FILLET_7_R)


solid = part.part
